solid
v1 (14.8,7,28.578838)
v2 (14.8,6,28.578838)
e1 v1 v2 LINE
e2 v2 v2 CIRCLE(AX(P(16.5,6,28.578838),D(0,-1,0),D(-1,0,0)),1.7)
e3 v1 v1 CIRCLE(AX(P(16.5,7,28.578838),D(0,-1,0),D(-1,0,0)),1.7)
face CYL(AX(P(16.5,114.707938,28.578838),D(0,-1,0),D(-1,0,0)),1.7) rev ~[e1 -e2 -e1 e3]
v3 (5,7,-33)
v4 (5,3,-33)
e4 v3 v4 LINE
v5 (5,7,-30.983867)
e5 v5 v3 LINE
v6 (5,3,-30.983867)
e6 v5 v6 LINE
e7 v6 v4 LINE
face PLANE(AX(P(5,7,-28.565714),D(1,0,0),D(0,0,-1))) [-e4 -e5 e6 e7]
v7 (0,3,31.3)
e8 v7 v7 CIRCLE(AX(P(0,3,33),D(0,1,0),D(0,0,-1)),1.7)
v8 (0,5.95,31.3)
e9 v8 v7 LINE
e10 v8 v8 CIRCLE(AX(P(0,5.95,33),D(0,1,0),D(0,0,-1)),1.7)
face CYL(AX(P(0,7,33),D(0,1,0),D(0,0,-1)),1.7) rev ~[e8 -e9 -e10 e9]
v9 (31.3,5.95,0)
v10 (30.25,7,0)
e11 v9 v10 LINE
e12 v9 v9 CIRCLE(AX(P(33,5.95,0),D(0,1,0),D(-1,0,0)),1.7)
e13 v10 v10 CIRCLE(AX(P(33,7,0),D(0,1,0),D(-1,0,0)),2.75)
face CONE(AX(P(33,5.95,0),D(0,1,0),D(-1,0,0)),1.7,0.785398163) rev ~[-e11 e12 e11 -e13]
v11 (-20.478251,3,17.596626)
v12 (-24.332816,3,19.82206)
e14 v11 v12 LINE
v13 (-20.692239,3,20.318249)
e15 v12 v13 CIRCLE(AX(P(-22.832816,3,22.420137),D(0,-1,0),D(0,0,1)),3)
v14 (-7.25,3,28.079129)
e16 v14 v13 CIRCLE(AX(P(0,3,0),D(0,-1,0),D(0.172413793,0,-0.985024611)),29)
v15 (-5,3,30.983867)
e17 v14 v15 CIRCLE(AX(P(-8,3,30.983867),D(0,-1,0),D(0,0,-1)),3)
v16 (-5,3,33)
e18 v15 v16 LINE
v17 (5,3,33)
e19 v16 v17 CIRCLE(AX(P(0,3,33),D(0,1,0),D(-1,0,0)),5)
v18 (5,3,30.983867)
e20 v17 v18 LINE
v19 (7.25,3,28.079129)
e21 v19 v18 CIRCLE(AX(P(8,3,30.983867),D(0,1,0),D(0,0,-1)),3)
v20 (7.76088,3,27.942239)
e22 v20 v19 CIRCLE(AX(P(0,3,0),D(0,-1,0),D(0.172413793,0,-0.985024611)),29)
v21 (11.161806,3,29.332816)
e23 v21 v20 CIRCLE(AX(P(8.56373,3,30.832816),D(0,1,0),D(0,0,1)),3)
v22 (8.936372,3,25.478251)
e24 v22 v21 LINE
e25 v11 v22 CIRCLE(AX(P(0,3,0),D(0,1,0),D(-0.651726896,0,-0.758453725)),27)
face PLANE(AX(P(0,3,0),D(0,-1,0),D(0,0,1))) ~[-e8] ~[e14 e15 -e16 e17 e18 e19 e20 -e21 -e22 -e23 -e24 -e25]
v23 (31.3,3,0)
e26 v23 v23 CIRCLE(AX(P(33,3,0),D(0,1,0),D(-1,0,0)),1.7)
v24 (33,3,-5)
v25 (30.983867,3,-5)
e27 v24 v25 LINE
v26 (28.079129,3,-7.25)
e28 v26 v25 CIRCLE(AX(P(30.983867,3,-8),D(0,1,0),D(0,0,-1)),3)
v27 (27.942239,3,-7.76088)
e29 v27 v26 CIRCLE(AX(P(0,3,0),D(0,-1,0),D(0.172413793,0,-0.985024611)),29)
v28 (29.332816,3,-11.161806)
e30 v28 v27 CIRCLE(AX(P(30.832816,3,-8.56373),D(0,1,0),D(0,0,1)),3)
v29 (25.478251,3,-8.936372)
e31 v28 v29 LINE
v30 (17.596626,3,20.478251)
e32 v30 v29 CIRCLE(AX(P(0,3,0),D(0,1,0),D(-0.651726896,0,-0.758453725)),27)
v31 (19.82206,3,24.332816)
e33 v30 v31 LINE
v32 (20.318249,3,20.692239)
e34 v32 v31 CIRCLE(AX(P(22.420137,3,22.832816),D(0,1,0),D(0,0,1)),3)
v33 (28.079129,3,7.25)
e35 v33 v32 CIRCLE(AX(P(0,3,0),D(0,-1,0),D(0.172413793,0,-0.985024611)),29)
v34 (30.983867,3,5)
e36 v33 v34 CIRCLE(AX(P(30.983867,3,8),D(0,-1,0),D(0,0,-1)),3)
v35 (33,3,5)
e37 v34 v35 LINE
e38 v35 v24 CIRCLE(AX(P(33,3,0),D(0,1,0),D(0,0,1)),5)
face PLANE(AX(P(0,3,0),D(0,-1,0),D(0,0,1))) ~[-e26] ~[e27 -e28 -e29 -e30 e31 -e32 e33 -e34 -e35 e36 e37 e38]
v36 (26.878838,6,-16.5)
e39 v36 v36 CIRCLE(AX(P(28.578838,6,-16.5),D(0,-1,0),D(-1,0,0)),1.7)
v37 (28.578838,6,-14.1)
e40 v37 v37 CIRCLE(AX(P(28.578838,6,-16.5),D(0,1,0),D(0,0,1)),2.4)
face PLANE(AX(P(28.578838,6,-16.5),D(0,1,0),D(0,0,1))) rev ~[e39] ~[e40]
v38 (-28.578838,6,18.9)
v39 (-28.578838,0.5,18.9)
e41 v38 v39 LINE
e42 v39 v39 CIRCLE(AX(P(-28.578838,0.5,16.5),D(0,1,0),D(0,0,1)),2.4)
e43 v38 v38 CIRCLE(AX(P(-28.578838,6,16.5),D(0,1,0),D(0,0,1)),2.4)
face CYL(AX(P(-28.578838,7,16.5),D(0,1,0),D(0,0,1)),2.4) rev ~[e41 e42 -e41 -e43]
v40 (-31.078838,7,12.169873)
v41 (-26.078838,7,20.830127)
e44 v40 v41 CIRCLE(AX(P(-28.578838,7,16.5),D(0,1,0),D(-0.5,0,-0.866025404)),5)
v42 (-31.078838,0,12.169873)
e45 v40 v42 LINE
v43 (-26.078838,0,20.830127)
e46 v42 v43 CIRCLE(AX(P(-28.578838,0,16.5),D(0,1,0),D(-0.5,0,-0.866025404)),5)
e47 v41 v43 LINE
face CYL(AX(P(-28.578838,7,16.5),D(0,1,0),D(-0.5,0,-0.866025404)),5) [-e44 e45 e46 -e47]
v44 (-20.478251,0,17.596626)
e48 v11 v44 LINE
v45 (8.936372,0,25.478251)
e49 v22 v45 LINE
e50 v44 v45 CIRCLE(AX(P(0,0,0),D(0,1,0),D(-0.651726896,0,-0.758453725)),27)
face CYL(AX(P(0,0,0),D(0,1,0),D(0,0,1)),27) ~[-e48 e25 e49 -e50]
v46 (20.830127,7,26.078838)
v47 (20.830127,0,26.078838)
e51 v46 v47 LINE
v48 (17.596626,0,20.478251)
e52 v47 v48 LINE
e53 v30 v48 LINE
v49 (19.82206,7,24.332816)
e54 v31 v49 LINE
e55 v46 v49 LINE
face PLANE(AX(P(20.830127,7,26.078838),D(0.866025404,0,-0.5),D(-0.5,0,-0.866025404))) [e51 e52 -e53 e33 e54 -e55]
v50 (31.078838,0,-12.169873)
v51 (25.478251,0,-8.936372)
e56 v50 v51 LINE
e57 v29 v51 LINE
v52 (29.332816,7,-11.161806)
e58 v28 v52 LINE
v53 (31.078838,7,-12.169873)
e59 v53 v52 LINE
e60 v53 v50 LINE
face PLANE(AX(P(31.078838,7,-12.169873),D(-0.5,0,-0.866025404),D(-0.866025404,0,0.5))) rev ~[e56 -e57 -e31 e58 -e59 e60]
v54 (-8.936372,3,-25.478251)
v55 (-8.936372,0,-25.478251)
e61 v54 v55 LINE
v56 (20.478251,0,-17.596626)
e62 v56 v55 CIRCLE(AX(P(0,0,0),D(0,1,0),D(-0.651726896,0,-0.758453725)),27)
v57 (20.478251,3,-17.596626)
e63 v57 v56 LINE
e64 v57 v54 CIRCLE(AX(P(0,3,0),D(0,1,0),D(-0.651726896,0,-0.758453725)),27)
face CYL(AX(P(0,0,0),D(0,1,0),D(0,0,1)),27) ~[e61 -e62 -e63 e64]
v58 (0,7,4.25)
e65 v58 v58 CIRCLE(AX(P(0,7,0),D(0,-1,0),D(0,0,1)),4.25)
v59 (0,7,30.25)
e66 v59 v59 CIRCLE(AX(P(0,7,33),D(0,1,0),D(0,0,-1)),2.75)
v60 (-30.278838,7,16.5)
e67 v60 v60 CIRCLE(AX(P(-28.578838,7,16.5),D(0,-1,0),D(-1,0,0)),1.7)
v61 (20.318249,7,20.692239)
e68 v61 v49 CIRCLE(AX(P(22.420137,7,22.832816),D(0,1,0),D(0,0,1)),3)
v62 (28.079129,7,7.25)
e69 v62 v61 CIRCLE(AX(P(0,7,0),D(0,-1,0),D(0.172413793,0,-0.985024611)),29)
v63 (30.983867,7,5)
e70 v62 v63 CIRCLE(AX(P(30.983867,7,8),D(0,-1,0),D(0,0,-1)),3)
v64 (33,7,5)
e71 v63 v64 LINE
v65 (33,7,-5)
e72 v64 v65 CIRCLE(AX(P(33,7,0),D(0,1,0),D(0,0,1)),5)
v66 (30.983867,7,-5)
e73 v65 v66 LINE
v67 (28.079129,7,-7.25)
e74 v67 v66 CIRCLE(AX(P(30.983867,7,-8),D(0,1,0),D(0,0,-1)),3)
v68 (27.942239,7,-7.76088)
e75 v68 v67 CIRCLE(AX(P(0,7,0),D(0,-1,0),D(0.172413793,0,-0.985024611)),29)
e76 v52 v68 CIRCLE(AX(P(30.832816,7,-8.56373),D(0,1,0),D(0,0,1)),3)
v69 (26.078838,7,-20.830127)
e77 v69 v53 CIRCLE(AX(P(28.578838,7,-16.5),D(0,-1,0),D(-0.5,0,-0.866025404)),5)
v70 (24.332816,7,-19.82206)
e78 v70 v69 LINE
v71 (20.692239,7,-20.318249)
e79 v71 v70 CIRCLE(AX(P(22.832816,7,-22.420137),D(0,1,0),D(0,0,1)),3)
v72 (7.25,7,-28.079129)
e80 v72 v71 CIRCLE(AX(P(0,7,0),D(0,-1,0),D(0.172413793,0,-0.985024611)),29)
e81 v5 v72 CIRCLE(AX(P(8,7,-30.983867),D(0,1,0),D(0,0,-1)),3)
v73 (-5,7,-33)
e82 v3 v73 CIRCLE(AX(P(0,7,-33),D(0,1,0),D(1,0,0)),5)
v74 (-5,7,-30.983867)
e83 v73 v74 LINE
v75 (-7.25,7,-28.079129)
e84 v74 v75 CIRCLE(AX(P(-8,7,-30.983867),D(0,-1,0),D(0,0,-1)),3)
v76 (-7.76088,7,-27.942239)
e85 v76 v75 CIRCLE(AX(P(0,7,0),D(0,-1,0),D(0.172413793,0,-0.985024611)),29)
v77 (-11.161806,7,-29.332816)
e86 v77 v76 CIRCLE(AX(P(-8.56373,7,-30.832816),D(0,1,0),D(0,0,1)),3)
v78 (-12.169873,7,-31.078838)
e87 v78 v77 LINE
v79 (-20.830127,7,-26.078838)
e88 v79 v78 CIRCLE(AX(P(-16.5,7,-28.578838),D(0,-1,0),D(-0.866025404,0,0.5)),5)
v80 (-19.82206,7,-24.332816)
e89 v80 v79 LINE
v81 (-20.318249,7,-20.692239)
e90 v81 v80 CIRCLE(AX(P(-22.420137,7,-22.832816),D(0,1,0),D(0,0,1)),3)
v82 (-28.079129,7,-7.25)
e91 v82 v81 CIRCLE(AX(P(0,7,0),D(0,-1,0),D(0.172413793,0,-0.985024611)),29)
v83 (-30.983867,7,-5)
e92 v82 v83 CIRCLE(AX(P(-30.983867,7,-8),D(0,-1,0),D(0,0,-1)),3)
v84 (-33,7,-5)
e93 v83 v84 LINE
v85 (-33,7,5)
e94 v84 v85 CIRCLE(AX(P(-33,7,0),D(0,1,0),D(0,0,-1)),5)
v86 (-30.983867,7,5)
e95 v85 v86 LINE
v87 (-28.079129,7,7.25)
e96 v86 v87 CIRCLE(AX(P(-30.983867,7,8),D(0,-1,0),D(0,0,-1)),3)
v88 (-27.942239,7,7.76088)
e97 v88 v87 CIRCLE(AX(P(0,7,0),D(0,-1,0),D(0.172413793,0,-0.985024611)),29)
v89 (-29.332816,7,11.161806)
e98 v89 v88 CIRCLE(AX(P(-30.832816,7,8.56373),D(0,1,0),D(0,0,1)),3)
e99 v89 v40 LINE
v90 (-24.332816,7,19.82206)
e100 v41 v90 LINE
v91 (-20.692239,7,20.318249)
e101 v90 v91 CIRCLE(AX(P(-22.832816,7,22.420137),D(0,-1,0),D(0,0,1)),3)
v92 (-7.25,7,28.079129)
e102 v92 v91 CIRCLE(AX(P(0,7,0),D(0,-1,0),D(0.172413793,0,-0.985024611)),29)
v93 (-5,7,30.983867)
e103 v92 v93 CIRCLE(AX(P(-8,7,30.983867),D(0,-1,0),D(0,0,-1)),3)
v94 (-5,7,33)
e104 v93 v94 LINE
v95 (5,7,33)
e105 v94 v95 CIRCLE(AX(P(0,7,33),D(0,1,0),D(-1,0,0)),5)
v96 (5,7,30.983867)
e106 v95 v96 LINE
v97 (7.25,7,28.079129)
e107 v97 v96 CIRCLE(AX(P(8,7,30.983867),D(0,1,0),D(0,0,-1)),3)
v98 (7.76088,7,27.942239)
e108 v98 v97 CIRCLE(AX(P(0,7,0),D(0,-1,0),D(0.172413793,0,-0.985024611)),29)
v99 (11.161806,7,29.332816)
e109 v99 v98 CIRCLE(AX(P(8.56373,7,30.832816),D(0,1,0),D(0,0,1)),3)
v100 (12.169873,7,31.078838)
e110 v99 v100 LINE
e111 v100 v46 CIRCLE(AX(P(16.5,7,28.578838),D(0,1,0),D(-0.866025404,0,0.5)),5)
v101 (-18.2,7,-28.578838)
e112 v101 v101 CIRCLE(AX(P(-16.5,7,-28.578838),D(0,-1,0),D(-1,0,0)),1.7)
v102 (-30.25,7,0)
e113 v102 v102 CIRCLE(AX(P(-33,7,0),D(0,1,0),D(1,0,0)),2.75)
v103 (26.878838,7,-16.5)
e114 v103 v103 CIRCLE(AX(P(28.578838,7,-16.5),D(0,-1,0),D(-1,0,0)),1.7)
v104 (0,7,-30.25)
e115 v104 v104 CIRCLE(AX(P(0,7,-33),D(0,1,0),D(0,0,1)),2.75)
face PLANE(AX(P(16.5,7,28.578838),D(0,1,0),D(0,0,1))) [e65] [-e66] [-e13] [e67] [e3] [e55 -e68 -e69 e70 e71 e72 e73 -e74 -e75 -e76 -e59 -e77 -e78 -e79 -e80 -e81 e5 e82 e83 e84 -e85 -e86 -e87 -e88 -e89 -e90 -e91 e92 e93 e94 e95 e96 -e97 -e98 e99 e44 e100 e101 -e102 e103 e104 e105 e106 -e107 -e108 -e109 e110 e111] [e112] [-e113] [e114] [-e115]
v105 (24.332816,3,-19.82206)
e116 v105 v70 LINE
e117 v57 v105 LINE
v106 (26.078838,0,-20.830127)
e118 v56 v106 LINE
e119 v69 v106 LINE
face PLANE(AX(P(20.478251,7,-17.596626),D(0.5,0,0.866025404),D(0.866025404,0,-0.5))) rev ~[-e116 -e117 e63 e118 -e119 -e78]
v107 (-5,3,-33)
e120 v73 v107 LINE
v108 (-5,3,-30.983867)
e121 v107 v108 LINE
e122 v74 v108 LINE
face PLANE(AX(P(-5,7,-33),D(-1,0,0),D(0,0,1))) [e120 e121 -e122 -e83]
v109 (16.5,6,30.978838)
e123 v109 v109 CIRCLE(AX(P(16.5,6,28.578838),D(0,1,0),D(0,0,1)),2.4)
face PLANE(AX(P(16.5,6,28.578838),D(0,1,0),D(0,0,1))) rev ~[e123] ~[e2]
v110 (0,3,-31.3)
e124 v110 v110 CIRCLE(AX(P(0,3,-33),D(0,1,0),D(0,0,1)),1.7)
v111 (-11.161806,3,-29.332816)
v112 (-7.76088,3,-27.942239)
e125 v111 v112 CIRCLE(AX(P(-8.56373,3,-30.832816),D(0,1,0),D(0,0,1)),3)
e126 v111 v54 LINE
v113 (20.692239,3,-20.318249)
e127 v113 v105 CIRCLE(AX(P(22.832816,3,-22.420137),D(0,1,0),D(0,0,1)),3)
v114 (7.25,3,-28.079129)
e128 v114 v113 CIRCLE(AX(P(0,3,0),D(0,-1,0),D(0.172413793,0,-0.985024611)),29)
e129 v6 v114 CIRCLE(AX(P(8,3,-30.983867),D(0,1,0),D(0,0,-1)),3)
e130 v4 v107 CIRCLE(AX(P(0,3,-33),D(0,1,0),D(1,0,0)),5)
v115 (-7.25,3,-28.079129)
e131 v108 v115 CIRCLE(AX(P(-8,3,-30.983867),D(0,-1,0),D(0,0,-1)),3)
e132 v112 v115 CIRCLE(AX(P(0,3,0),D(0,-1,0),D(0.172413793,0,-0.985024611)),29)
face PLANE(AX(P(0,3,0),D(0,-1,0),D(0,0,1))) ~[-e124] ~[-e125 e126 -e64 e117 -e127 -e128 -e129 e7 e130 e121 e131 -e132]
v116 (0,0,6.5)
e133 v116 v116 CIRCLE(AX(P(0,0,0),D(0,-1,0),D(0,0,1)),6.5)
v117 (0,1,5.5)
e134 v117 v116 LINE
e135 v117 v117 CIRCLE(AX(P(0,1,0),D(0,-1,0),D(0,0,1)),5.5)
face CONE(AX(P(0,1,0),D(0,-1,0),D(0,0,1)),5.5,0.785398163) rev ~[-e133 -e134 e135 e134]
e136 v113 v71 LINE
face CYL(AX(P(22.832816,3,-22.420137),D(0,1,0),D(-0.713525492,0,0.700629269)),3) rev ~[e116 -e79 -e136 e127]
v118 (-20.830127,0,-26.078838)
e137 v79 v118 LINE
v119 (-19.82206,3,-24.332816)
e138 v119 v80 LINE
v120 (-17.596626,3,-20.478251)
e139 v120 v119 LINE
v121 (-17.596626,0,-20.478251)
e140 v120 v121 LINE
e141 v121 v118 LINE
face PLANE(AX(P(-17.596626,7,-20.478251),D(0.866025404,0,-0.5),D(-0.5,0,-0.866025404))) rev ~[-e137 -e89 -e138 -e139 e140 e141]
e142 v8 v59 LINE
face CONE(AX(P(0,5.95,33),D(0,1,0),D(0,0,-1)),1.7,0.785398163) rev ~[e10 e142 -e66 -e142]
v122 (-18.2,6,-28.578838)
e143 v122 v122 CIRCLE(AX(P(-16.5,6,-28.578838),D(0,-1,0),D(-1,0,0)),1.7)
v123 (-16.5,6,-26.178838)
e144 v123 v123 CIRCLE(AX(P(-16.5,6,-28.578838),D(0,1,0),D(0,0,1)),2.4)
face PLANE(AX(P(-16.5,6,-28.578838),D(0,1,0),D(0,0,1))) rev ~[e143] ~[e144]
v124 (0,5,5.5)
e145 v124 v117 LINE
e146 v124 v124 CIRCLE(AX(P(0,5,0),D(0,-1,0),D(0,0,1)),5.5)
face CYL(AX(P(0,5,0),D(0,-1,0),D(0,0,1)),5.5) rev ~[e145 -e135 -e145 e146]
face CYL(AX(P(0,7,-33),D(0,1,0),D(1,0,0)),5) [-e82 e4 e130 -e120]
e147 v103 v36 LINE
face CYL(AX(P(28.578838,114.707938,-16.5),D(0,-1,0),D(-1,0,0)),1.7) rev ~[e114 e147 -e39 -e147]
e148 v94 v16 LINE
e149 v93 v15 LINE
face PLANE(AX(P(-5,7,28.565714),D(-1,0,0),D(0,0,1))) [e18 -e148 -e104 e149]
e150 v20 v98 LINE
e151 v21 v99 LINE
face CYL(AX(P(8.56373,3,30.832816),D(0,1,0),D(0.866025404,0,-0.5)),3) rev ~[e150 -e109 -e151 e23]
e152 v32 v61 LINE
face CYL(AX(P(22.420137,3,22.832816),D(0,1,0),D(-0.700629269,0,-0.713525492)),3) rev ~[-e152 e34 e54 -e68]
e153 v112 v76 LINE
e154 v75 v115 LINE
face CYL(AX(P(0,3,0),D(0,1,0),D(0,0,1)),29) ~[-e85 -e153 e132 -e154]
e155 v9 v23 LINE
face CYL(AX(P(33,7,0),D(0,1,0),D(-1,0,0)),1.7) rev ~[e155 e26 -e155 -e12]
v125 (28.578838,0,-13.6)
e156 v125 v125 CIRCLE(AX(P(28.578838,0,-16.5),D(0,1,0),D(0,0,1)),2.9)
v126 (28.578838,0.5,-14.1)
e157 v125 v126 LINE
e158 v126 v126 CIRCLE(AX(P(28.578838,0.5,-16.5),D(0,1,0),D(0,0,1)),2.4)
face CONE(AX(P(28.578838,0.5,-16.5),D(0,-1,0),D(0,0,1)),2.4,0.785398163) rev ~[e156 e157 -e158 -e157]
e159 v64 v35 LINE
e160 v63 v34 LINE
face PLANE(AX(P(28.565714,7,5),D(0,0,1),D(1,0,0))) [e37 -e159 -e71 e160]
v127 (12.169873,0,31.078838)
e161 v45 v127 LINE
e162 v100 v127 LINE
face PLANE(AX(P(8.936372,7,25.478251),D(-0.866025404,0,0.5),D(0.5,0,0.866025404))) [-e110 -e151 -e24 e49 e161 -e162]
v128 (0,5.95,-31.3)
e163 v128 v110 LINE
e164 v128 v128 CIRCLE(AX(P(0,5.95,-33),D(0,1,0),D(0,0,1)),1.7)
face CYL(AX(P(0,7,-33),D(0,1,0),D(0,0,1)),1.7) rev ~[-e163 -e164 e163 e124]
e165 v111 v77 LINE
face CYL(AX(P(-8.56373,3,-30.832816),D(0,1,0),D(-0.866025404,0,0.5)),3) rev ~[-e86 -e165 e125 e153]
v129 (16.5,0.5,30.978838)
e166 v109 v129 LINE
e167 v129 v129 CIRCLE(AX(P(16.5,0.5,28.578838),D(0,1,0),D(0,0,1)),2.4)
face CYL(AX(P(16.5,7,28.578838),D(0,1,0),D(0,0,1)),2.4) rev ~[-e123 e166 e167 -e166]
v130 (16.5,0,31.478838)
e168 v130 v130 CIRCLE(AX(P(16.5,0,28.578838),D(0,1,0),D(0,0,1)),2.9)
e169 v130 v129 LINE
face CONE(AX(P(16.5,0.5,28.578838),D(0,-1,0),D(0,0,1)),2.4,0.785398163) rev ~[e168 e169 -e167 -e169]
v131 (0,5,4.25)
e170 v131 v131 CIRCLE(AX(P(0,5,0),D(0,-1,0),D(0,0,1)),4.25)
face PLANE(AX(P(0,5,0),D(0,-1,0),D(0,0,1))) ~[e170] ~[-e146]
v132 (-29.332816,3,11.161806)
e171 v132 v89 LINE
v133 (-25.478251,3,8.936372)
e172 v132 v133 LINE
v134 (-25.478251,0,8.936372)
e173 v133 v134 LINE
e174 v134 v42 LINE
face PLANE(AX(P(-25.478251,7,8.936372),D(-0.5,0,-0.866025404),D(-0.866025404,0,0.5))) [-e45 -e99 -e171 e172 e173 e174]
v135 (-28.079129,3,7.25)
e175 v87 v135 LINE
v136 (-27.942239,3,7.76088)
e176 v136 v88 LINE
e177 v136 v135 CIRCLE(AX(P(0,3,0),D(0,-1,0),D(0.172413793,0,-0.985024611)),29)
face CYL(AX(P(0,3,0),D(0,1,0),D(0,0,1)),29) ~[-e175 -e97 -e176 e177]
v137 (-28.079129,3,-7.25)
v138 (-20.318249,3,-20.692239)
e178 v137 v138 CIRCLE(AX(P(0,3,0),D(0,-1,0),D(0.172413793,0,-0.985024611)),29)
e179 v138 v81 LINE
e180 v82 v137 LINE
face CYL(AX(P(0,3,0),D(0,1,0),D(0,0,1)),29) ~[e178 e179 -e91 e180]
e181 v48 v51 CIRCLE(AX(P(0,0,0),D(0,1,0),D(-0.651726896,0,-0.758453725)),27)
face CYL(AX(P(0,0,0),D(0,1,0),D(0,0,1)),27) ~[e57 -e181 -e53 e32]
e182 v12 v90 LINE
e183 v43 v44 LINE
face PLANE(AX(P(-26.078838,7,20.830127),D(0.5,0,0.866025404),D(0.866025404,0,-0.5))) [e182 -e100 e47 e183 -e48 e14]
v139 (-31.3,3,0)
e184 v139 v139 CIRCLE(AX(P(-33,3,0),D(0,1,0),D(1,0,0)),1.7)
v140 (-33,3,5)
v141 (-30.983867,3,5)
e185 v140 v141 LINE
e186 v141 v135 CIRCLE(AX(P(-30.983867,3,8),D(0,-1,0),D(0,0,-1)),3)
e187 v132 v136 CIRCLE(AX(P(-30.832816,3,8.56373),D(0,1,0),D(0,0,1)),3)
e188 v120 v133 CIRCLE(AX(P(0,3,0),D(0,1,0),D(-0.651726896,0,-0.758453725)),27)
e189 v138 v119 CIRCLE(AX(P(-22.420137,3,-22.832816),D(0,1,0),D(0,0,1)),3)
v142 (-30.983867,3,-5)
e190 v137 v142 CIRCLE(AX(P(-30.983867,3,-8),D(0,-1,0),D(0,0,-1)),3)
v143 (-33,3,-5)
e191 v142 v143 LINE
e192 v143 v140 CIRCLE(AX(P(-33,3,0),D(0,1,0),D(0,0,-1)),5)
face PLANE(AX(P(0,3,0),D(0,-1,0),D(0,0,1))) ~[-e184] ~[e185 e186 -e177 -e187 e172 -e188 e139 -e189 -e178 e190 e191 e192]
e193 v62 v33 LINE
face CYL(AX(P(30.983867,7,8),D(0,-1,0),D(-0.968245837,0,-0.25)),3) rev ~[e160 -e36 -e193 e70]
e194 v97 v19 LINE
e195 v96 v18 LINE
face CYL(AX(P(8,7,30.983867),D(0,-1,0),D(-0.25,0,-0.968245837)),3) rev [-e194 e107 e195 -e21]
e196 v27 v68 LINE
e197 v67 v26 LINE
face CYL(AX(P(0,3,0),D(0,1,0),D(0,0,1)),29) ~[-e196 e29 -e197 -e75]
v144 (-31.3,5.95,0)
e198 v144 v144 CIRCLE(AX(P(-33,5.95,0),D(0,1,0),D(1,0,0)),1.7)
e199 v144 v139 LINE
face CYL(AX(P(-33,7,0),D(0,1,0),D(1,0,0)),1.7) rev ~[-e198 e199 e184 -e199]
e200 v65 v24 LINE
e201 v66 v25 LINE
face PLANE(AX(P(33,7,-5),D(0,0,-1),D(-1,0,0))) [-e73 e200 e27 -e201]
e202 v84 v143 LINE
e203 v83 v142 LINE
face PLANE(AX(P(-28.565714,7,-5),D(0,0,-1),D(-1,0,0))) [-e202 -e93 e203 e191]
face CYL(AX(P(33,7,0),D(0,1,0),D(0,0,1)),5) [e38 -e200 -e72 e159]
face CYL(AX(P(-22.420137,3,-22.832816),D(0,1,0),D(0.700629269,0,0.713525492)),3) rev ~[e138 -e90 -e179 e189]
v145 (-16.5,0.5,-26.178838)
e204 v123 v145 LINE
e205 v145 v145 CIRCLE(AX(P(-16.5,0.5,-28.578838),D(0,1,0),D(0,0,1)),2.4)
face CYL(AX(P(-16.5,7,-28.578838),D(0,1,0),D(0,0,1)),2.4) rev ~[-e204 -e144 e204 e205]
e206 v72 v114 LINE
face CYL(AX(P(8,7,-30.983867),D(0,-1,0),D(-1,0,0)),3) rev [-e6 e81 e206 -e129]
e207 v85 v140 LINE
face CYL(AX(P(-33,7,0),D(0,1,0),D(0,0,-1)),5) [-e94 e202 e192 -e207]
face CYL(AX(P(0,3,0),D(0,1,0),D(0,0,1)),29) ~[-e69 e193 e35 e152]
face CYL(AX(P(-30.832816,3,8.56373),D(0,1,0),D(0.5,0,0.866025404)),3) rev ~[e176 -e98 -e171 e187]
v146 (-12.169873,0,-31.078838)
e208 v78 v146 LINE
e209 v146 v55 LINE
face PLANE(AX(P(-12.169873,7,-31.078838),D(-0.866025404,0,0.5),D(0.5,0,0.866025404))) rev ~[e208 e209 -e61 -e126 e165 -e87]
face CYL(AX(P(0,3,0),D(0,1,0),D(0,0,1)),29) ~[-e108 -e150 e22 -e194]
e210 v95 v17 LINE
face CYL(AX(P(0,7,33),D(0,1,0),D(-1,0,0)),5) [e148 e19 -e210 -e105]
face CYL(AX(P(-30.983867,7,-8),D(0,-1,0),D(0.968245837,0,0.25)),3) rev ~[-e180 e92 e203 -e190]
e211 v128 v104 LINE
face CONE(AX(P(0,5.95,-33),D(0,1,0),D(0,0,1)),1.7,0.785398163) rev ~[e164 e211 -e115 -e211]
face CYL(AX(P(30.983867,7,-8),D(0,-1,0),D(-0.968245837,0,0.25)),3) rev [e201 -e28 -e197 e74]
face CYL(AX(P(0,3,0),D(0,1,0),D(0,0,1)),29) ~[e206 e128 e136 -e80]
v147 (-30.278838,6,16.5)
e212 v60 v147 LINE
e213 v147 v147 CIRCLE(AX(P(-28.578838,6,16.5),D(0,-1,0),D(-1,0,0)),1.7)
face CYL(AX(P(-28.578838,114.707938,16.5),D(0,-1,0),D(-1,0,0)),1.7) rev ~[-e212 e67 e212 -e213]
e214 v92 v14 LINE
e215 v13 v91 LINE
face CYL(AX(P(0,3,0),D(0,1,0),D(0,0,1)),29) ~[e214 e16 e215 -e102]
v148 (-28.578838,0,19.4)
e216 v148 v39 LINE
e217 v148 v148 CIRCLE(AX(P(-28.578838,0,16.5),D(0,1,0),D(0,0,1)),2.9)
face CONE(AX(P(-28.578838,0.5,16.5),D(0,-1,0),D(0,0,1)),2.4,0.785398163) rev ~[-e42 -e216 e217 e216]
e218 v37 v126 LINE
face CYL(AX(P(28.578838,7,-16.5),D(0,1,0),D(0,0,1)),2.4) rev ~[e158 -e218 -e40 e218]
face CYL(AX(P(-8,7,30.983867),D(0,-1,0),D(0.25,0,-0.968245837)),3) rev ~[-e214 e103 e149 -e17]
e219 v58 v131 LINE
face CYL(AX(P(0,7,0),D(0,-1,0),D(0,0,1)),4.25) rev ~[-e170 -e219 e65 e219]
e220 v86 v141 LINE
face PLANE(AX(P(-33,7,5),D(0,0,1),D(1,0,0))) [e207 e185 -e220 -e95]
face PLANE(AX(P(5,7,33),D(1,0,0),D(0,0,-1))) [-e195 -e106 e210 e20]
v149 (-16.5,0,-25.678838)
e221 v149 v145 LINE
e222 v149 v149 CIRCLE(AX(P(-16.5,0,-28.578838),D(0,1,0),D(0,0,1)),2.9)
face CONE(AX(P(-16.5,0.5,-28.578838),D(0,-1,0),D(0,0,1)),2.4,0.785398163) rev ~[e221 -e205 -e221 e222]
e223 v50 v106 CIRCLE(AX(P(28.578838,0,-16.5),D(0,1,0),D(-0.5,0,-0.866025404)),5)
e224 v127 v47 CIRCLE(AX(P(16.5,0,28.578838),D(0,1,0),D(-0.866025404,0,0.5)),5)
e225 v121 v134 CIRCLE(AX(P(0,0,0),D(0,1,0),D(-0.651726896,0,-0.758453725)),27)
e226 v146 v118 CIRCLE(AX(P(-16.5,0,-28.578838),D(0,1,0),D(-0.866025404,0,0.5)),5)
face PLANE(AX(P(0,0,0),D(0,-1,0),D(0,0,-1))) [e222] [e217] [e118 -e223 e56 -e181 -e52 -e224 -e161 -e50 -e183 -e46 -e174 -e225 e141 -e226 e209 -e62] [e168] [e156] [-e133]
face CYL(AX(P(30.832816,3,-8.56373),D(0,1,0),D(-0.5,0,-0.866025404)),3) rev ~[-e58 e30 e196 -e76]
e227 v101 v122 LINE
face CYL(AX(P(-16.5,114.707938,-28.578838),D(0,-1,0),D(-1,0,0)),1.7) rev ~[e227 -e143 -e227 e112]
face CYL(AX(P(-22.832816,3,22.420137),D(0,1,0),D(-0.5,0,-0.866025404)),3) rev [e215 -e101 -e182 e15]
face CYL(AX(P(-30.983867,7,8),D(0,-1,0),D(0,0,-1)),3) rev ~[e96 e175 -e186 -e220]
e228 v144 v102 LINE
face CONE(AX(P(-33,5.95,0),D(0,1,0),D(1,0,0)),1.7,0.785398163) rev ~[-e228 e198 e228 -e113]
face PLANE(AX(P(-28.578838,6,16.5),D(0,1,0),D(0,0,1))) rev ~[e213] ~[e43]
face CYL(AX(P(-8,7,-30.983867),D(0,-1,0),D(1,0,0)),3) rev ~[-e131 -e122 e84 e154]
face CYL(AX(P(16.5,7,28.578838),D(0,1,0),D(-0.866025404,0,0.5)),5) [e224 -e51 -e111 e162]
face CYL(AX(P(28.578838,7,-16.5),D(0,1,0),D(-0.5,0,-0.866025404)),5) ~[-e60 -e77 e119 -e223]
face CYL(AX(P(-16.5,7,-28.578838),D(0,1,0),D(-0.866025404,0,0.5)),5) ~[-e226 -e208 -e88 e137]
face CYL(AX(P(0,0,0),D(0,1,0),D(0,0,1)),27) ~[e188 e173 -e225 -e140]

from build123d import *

# Parameters (mm, degrees)
ESQUISSE1_R                        = 1.7
BOSS_EXTRU_1_DEPTH                 = 4
CONG_1_R                           = 3
R_P_TITION_CIRCULAIRE1_COUNT       = 4
CONG_1_OF_R_P_TITION_CIRCULAIRE1_R = 3
CHANFREIN1_SIZE                    = 1.05
BOSS_EXTRU_2_REACH                 = 56.194
ESQUISSE2_R                        = 2.4
CONG_2_R                           = 3
ESQUISSE2_2_R                      = 2.4
BOSS_EXTRU_3_DEPTH                 = 1
M3_CLEARANCE_HOLE1_D               = 3.4
CHANFREIN2_SIZE                    = 0.5


with BuildPart() as part:
    # Sketch1 → Revolve1 (revolve)
    with BuildSketch(Plane.XY, mode=Mode.PRIVATE) as revolve1_sk:
        Polygon((6.5, 0), (27, 0), (27, 3), (29, 3), (29, 7), (4.25, 7), (4.25, 5), (5.5, 5), (5.5, 1), align=None)
    revolve(revolve1_sk.sketch.rotate(Axis((0, 16.318563478, 0), (0, -1, 0)), 90), axis=Axis((0, 16.318563478, 0), (0, -1, 0)))

    # Esquisse1 → Boss.-Extru.1 (add)
    with BuildSketch(Plane(origin=(0, 7, 0), x_dir=(1, 0, 0), z_dir=(0, 1, 0))):
        with BuildLine():
            Line((-5, 33), (-5, 28.565713714))
            ThreePointArc((-5, 28.565713714), (0, 29), (5, 28.565713714))
            Line((5, 28.565713714), (5, 33))
            ThreePointArc((5, 33), (0, 38), (-5, 33))
        make_face()
        with Locations(Location((0, 33, 0), (0, 0, 270))):
            Circle(ESQUISSE1_R, mode=Mode.SUBTRACT)
    boss_extru_1 = extrude(amount=-BOSS_EXTRU_1_DEPTH)

    # Congé1
    cong_1_edges = [part.edges().sort_by_distance(p)[0] for p in [
        (-5, 5, -28.565713714),
        (5, 5, -28.565713714),
    ]]
    fillet(cong_1_edges, radius=CONG_1_R)

    # Répétition circulaire1: Boss.-Extru.1 ×4 about axis
    r_p_tition_circulaire1_axis = Axis((0, 0, 0), (0, 1, 0))
    for i in range(1, R_P_TITION_CIRCULAIRE1_COUNT):
        add(boss_extru_1.rotate(r_p_tition_circulaire1_axis, i * 360 / R_P_TITION_CIRCULAIRE1_COUNT))

    # Congé1 of Répétition circulaire1
    cong_1_of_r_p_tition_circulaire1_edges = [part.edges().sort_by_distance(p)[0] for p in [
        (-28.565713714, 5, 5),
        (-28.565713714, 5, -5),
        (5, 5, 28.565713714),
        (-5, 5, 28.565713714),
        (28.565713714, 5, -5),
        (28.565713714, 5, 5),
    ]]
    fillet(cong_1_of_r_p_tition_circulaire1_edges, radius=CONG_1_OF_R_P_TITION_CIRCULAIRE1_R)

    # Chanfrein1
    chanfrein1_edges = [part.edges().sort_by_distance(p)[0] for p in [
        (0, 7, -34.7),
        (34.7, 7, 0),
        (0, 7, 34.7),
        (-34.7, 7, 0),
    ]]
    chamfer(chanfrein1_edges, length=CHANFREIN1_SIZE)

    # Boss.-Extru.2: up to this face of the body (flat: up to its plane)
    boss_extru_2_end = Plane(part.part.faces().sort_by_distance((0, 0, -7.263675324))[0])
    # Esquisse2 → Boss.-Extru.2 (add, up to the picked face)
    with BuildSketch(Plane(origin=(0, 7, 0), x_dir=(1, 0, 0), z_dir=(0, 1, 0)), mode=Mode.PRIVATE) as boss_extru_2_sk1:
        with BuildLine():
            Line((-12.169872981, 31.078838325), (-8.936372142, 25.478250586))
            ThreePointArc((-8.936372142, 25.478250586), (-13.5, 23.382685902), (-17.59662618, 20.478250586))
            Line((-17.59662618, 20.478250586), (-20.830127019, 26.078838325))
            ThreePointArc((-20.830127019, 26.078838325), (-19, 32.908965344), (-12.169872981, 31.078838325))
        make_face()
        with Locations(Location((-16.5, 28.578838325, 0), (0, 0, 270))):
            Circle(ESQUISSE2_R, mode=Mode.SUBTRACT)
    boss_extru_2_tool1 = split(extrude(boss_extru_2_sk1.sketch, amount=-BOSS_EXTRU_2_REACH, mode=Mode.PRIVATE), bisect_by=boss_extru_2_end, keep=Keep.BOTH, mode=Mode.PRIVATE)
    # Esquisse2 → Boss.-Extru.2 (add, up to the picked face)
    with BuildSketch(Plane(origin=(0, 7, 0), x_dir=(1, 0, 0), z_dir=(0, 1, 0)), mode=Mode.PRIVATE) as boss_extru_2_sk2:
        with BuildLine():
            Line((31.078838325, 12.169872981), (25.478250586, 8.936372142))
            ThreePointArc((25.478250586, 8.936372142), (23.382685902, 13.5), (20.478250586, 17.59662618))
            Line((20.478250586, 17.59662618), (26.078838325, 20.830127019))
            ThreePointArc((26.078838325, 20.830127019), (32.908965344, 19), (31.078838325, 12.169872981))
        make_face()
        with Locations(Location((28.578838325, 16.5, 0), (0, 0, 270))):
            Circle(ESQUISSE2_R, mode=Mode.SUBTRACT)
    boss_extru_2_tool2 = split(extrude(boss_extru_2_sk2.sketch, amount=-BOSS_EXTRU_2_REACH, mode=Mode.PRIVATE), bisect_by=boss_extru_2_end, keep=Keep.BOTH, mode=Mode.PRIVATE)
    # Esquisse2 → Boss.-Extru.2 (add, up to the picked face)
    with BuildSketch(Plane(origin=(0, 7, 0), x_dir=(1, 0, 0), z_dir=(0, 1, 0)), mode=Mode.PRIVATE) as boss_extru_2_sk3:
        with BuildLine():
            Line((20.830127019, -26.078838325), (17.59662618, -20.478250586))
            ThreePointArc((17.59662618, -20.478250586), (13.5, -23.382685902), (8.936372142, -25.478250586))
            Line((8.936372142, -25.478250586), (12.169872981, -31.078838325))
            ThreePointArc((12.169872981, -31.078838325), (19, -32.908965344), (20.830127019, -26.078838325))
        make_face()
        with Locations(Location((16.5, -28.578838325, 0), (0, 0, 270))):
            Circle(ESQUISSE2_R, mode=Mode.SUBTRACT)
    boss_extru_2_tool3 = split(extrude(boss_extru_2_sk3.sketch, amount=-BOSS_EXTRU_2_REACH, mode=Mode.PRIVATE), bisect_by=boss_extru_2_end, keep=Keep.BOTH, mode=Mode.PRIVATE)
    # Esquisse2 → Boss.-Extru.2 (add, up to the picked face)
    with BuildSketch(Plane(origin=(0, 7, 0), x_dir=(1, 0, 0), z_dir=(0, 1, 0)), mode=Mode.PRIVATE) as boss_extru_2_sk4:
        with BuildLine():
            Line((-26.078838325, -20.830127019), (-20.478250586, -17.59662618))
            ThreePointArc((-20.478250586, -17.59662618), (-23.382685902, -13.5), (-25.478250586, -8.936372142))
            Line((-25.478250586, -8.936372142), (-31.078838325, -12.169872981))
            ThreePointArc((-31.078838325, -12.169872981), (-32.908965344, -19), (-26.078838325, -20.830127019))
        make_face()
        with Locations(Location((-28.578838325, -16.5, 0), (0, 0, 270))):
            Circle(ESQUISSE2_R, mode=Mode.SUBTRACT)
    boss_extru_2_tool4 = split(extrude(boss_extru_2_sk4.sketch, amount=-BOSS_EXTRU_2_REACH, mode=Mode.PRIVATE), bisect_by=boss_extru_2_end, keep=Keep.BOTH, mode=Mode.PRIVATE)
    add(boss_extru_2_tool1.solids().sort_by(Axis((-19.056182, 7, -23.369301), (0, -1, 0)))[0])
    add(boss_extru_2_tool2.solids().sort_by(Axis((32.75177, 7, -18.909243), (0, -1, 0)))[0])
    add(boss_extru_2_tool3.solids().sort_by(Axis((10.710318, 7, 28.187788), (0, -1, 0)))[0])
    add(boss_extru_2_tool4.solids().sort_by(Axis((-23.539881, 7, 13.590757), (0, -1, 0)))[0])

    # Congé2
    cong_2_edges = [part.edges().sort_by_distance(p)[0] for p in [
        (-22.238633754, 5, 18.612983876),
        (-27.238633754, 5, 9.952729838),
        (-18.612983876, 5, -22.238633754),
        (-9.952729838, 5, -27.238633754),
        (22.238633754, 5, -18.612983876),
        (27.238633754, 5, -9.952729838),
        (18.612983876, 5, 22.238633754),
        (9.952729838, 5, 27.238633754),
    ]]
    fillet(cong_2_edges, radius=CONG_2_R)

    # Esquisse2<2> → Boss.-Extru.3 (add)
    with BuildSketch(Plane(origin=(0, 7, 0), x_dir=(1, 0, 0), z_dir=(0, 1, 0))):
        with Locations(Location((16.5, -28.578838325, 0), (0, 0, 270))):
            Circle(ESQUISSE2_2_R)
        with Locations(Location((28.578838325, 16.5, 0), (0, 0, 270))):
            Circle(ESQUISSE2_2_R)
        with Locations(Location((-16.5, 28.578838325, 0), (0, 0, 270))):
            Circle(ESQUISSE2_2_R)
        with Locations(Location((-28.578838325, -16.5, 0), (0, 0, 270))):
            Circle(ESQUISSE2_2_R)
    extrude(amount=-BOSS_EXTRU_3_DEPTH)

    # M3 Clearance Hole1 (through all)
    with Locations(Plane(origin=(0, 7, 0), x_dir=(1, 0, 0), z_dir=(0, 1, 0))):
        with Locations((16.5, -28.578838325), (28.578838325, 16.5), (-16.5, 28.578838325), (-28.578838325, -16.5)):
            Hole(M3_CLEARANCE_HOLE1_D / 2)

    # Chanfrein2
    chanfrein2_edges = [part.edges().sort_by_distance(p)[0] for p in [
        (-28.578838325, 0, 14.1),
        (-16.5, 0, -30.978838325),
        (28.578838325, 0, -18.9),
        (16.5, 0, 26.178838325),
    ]]
    chamfer(chanfrein2_edges, length=CHANFREIN2_SIZE)


solid = part.part
